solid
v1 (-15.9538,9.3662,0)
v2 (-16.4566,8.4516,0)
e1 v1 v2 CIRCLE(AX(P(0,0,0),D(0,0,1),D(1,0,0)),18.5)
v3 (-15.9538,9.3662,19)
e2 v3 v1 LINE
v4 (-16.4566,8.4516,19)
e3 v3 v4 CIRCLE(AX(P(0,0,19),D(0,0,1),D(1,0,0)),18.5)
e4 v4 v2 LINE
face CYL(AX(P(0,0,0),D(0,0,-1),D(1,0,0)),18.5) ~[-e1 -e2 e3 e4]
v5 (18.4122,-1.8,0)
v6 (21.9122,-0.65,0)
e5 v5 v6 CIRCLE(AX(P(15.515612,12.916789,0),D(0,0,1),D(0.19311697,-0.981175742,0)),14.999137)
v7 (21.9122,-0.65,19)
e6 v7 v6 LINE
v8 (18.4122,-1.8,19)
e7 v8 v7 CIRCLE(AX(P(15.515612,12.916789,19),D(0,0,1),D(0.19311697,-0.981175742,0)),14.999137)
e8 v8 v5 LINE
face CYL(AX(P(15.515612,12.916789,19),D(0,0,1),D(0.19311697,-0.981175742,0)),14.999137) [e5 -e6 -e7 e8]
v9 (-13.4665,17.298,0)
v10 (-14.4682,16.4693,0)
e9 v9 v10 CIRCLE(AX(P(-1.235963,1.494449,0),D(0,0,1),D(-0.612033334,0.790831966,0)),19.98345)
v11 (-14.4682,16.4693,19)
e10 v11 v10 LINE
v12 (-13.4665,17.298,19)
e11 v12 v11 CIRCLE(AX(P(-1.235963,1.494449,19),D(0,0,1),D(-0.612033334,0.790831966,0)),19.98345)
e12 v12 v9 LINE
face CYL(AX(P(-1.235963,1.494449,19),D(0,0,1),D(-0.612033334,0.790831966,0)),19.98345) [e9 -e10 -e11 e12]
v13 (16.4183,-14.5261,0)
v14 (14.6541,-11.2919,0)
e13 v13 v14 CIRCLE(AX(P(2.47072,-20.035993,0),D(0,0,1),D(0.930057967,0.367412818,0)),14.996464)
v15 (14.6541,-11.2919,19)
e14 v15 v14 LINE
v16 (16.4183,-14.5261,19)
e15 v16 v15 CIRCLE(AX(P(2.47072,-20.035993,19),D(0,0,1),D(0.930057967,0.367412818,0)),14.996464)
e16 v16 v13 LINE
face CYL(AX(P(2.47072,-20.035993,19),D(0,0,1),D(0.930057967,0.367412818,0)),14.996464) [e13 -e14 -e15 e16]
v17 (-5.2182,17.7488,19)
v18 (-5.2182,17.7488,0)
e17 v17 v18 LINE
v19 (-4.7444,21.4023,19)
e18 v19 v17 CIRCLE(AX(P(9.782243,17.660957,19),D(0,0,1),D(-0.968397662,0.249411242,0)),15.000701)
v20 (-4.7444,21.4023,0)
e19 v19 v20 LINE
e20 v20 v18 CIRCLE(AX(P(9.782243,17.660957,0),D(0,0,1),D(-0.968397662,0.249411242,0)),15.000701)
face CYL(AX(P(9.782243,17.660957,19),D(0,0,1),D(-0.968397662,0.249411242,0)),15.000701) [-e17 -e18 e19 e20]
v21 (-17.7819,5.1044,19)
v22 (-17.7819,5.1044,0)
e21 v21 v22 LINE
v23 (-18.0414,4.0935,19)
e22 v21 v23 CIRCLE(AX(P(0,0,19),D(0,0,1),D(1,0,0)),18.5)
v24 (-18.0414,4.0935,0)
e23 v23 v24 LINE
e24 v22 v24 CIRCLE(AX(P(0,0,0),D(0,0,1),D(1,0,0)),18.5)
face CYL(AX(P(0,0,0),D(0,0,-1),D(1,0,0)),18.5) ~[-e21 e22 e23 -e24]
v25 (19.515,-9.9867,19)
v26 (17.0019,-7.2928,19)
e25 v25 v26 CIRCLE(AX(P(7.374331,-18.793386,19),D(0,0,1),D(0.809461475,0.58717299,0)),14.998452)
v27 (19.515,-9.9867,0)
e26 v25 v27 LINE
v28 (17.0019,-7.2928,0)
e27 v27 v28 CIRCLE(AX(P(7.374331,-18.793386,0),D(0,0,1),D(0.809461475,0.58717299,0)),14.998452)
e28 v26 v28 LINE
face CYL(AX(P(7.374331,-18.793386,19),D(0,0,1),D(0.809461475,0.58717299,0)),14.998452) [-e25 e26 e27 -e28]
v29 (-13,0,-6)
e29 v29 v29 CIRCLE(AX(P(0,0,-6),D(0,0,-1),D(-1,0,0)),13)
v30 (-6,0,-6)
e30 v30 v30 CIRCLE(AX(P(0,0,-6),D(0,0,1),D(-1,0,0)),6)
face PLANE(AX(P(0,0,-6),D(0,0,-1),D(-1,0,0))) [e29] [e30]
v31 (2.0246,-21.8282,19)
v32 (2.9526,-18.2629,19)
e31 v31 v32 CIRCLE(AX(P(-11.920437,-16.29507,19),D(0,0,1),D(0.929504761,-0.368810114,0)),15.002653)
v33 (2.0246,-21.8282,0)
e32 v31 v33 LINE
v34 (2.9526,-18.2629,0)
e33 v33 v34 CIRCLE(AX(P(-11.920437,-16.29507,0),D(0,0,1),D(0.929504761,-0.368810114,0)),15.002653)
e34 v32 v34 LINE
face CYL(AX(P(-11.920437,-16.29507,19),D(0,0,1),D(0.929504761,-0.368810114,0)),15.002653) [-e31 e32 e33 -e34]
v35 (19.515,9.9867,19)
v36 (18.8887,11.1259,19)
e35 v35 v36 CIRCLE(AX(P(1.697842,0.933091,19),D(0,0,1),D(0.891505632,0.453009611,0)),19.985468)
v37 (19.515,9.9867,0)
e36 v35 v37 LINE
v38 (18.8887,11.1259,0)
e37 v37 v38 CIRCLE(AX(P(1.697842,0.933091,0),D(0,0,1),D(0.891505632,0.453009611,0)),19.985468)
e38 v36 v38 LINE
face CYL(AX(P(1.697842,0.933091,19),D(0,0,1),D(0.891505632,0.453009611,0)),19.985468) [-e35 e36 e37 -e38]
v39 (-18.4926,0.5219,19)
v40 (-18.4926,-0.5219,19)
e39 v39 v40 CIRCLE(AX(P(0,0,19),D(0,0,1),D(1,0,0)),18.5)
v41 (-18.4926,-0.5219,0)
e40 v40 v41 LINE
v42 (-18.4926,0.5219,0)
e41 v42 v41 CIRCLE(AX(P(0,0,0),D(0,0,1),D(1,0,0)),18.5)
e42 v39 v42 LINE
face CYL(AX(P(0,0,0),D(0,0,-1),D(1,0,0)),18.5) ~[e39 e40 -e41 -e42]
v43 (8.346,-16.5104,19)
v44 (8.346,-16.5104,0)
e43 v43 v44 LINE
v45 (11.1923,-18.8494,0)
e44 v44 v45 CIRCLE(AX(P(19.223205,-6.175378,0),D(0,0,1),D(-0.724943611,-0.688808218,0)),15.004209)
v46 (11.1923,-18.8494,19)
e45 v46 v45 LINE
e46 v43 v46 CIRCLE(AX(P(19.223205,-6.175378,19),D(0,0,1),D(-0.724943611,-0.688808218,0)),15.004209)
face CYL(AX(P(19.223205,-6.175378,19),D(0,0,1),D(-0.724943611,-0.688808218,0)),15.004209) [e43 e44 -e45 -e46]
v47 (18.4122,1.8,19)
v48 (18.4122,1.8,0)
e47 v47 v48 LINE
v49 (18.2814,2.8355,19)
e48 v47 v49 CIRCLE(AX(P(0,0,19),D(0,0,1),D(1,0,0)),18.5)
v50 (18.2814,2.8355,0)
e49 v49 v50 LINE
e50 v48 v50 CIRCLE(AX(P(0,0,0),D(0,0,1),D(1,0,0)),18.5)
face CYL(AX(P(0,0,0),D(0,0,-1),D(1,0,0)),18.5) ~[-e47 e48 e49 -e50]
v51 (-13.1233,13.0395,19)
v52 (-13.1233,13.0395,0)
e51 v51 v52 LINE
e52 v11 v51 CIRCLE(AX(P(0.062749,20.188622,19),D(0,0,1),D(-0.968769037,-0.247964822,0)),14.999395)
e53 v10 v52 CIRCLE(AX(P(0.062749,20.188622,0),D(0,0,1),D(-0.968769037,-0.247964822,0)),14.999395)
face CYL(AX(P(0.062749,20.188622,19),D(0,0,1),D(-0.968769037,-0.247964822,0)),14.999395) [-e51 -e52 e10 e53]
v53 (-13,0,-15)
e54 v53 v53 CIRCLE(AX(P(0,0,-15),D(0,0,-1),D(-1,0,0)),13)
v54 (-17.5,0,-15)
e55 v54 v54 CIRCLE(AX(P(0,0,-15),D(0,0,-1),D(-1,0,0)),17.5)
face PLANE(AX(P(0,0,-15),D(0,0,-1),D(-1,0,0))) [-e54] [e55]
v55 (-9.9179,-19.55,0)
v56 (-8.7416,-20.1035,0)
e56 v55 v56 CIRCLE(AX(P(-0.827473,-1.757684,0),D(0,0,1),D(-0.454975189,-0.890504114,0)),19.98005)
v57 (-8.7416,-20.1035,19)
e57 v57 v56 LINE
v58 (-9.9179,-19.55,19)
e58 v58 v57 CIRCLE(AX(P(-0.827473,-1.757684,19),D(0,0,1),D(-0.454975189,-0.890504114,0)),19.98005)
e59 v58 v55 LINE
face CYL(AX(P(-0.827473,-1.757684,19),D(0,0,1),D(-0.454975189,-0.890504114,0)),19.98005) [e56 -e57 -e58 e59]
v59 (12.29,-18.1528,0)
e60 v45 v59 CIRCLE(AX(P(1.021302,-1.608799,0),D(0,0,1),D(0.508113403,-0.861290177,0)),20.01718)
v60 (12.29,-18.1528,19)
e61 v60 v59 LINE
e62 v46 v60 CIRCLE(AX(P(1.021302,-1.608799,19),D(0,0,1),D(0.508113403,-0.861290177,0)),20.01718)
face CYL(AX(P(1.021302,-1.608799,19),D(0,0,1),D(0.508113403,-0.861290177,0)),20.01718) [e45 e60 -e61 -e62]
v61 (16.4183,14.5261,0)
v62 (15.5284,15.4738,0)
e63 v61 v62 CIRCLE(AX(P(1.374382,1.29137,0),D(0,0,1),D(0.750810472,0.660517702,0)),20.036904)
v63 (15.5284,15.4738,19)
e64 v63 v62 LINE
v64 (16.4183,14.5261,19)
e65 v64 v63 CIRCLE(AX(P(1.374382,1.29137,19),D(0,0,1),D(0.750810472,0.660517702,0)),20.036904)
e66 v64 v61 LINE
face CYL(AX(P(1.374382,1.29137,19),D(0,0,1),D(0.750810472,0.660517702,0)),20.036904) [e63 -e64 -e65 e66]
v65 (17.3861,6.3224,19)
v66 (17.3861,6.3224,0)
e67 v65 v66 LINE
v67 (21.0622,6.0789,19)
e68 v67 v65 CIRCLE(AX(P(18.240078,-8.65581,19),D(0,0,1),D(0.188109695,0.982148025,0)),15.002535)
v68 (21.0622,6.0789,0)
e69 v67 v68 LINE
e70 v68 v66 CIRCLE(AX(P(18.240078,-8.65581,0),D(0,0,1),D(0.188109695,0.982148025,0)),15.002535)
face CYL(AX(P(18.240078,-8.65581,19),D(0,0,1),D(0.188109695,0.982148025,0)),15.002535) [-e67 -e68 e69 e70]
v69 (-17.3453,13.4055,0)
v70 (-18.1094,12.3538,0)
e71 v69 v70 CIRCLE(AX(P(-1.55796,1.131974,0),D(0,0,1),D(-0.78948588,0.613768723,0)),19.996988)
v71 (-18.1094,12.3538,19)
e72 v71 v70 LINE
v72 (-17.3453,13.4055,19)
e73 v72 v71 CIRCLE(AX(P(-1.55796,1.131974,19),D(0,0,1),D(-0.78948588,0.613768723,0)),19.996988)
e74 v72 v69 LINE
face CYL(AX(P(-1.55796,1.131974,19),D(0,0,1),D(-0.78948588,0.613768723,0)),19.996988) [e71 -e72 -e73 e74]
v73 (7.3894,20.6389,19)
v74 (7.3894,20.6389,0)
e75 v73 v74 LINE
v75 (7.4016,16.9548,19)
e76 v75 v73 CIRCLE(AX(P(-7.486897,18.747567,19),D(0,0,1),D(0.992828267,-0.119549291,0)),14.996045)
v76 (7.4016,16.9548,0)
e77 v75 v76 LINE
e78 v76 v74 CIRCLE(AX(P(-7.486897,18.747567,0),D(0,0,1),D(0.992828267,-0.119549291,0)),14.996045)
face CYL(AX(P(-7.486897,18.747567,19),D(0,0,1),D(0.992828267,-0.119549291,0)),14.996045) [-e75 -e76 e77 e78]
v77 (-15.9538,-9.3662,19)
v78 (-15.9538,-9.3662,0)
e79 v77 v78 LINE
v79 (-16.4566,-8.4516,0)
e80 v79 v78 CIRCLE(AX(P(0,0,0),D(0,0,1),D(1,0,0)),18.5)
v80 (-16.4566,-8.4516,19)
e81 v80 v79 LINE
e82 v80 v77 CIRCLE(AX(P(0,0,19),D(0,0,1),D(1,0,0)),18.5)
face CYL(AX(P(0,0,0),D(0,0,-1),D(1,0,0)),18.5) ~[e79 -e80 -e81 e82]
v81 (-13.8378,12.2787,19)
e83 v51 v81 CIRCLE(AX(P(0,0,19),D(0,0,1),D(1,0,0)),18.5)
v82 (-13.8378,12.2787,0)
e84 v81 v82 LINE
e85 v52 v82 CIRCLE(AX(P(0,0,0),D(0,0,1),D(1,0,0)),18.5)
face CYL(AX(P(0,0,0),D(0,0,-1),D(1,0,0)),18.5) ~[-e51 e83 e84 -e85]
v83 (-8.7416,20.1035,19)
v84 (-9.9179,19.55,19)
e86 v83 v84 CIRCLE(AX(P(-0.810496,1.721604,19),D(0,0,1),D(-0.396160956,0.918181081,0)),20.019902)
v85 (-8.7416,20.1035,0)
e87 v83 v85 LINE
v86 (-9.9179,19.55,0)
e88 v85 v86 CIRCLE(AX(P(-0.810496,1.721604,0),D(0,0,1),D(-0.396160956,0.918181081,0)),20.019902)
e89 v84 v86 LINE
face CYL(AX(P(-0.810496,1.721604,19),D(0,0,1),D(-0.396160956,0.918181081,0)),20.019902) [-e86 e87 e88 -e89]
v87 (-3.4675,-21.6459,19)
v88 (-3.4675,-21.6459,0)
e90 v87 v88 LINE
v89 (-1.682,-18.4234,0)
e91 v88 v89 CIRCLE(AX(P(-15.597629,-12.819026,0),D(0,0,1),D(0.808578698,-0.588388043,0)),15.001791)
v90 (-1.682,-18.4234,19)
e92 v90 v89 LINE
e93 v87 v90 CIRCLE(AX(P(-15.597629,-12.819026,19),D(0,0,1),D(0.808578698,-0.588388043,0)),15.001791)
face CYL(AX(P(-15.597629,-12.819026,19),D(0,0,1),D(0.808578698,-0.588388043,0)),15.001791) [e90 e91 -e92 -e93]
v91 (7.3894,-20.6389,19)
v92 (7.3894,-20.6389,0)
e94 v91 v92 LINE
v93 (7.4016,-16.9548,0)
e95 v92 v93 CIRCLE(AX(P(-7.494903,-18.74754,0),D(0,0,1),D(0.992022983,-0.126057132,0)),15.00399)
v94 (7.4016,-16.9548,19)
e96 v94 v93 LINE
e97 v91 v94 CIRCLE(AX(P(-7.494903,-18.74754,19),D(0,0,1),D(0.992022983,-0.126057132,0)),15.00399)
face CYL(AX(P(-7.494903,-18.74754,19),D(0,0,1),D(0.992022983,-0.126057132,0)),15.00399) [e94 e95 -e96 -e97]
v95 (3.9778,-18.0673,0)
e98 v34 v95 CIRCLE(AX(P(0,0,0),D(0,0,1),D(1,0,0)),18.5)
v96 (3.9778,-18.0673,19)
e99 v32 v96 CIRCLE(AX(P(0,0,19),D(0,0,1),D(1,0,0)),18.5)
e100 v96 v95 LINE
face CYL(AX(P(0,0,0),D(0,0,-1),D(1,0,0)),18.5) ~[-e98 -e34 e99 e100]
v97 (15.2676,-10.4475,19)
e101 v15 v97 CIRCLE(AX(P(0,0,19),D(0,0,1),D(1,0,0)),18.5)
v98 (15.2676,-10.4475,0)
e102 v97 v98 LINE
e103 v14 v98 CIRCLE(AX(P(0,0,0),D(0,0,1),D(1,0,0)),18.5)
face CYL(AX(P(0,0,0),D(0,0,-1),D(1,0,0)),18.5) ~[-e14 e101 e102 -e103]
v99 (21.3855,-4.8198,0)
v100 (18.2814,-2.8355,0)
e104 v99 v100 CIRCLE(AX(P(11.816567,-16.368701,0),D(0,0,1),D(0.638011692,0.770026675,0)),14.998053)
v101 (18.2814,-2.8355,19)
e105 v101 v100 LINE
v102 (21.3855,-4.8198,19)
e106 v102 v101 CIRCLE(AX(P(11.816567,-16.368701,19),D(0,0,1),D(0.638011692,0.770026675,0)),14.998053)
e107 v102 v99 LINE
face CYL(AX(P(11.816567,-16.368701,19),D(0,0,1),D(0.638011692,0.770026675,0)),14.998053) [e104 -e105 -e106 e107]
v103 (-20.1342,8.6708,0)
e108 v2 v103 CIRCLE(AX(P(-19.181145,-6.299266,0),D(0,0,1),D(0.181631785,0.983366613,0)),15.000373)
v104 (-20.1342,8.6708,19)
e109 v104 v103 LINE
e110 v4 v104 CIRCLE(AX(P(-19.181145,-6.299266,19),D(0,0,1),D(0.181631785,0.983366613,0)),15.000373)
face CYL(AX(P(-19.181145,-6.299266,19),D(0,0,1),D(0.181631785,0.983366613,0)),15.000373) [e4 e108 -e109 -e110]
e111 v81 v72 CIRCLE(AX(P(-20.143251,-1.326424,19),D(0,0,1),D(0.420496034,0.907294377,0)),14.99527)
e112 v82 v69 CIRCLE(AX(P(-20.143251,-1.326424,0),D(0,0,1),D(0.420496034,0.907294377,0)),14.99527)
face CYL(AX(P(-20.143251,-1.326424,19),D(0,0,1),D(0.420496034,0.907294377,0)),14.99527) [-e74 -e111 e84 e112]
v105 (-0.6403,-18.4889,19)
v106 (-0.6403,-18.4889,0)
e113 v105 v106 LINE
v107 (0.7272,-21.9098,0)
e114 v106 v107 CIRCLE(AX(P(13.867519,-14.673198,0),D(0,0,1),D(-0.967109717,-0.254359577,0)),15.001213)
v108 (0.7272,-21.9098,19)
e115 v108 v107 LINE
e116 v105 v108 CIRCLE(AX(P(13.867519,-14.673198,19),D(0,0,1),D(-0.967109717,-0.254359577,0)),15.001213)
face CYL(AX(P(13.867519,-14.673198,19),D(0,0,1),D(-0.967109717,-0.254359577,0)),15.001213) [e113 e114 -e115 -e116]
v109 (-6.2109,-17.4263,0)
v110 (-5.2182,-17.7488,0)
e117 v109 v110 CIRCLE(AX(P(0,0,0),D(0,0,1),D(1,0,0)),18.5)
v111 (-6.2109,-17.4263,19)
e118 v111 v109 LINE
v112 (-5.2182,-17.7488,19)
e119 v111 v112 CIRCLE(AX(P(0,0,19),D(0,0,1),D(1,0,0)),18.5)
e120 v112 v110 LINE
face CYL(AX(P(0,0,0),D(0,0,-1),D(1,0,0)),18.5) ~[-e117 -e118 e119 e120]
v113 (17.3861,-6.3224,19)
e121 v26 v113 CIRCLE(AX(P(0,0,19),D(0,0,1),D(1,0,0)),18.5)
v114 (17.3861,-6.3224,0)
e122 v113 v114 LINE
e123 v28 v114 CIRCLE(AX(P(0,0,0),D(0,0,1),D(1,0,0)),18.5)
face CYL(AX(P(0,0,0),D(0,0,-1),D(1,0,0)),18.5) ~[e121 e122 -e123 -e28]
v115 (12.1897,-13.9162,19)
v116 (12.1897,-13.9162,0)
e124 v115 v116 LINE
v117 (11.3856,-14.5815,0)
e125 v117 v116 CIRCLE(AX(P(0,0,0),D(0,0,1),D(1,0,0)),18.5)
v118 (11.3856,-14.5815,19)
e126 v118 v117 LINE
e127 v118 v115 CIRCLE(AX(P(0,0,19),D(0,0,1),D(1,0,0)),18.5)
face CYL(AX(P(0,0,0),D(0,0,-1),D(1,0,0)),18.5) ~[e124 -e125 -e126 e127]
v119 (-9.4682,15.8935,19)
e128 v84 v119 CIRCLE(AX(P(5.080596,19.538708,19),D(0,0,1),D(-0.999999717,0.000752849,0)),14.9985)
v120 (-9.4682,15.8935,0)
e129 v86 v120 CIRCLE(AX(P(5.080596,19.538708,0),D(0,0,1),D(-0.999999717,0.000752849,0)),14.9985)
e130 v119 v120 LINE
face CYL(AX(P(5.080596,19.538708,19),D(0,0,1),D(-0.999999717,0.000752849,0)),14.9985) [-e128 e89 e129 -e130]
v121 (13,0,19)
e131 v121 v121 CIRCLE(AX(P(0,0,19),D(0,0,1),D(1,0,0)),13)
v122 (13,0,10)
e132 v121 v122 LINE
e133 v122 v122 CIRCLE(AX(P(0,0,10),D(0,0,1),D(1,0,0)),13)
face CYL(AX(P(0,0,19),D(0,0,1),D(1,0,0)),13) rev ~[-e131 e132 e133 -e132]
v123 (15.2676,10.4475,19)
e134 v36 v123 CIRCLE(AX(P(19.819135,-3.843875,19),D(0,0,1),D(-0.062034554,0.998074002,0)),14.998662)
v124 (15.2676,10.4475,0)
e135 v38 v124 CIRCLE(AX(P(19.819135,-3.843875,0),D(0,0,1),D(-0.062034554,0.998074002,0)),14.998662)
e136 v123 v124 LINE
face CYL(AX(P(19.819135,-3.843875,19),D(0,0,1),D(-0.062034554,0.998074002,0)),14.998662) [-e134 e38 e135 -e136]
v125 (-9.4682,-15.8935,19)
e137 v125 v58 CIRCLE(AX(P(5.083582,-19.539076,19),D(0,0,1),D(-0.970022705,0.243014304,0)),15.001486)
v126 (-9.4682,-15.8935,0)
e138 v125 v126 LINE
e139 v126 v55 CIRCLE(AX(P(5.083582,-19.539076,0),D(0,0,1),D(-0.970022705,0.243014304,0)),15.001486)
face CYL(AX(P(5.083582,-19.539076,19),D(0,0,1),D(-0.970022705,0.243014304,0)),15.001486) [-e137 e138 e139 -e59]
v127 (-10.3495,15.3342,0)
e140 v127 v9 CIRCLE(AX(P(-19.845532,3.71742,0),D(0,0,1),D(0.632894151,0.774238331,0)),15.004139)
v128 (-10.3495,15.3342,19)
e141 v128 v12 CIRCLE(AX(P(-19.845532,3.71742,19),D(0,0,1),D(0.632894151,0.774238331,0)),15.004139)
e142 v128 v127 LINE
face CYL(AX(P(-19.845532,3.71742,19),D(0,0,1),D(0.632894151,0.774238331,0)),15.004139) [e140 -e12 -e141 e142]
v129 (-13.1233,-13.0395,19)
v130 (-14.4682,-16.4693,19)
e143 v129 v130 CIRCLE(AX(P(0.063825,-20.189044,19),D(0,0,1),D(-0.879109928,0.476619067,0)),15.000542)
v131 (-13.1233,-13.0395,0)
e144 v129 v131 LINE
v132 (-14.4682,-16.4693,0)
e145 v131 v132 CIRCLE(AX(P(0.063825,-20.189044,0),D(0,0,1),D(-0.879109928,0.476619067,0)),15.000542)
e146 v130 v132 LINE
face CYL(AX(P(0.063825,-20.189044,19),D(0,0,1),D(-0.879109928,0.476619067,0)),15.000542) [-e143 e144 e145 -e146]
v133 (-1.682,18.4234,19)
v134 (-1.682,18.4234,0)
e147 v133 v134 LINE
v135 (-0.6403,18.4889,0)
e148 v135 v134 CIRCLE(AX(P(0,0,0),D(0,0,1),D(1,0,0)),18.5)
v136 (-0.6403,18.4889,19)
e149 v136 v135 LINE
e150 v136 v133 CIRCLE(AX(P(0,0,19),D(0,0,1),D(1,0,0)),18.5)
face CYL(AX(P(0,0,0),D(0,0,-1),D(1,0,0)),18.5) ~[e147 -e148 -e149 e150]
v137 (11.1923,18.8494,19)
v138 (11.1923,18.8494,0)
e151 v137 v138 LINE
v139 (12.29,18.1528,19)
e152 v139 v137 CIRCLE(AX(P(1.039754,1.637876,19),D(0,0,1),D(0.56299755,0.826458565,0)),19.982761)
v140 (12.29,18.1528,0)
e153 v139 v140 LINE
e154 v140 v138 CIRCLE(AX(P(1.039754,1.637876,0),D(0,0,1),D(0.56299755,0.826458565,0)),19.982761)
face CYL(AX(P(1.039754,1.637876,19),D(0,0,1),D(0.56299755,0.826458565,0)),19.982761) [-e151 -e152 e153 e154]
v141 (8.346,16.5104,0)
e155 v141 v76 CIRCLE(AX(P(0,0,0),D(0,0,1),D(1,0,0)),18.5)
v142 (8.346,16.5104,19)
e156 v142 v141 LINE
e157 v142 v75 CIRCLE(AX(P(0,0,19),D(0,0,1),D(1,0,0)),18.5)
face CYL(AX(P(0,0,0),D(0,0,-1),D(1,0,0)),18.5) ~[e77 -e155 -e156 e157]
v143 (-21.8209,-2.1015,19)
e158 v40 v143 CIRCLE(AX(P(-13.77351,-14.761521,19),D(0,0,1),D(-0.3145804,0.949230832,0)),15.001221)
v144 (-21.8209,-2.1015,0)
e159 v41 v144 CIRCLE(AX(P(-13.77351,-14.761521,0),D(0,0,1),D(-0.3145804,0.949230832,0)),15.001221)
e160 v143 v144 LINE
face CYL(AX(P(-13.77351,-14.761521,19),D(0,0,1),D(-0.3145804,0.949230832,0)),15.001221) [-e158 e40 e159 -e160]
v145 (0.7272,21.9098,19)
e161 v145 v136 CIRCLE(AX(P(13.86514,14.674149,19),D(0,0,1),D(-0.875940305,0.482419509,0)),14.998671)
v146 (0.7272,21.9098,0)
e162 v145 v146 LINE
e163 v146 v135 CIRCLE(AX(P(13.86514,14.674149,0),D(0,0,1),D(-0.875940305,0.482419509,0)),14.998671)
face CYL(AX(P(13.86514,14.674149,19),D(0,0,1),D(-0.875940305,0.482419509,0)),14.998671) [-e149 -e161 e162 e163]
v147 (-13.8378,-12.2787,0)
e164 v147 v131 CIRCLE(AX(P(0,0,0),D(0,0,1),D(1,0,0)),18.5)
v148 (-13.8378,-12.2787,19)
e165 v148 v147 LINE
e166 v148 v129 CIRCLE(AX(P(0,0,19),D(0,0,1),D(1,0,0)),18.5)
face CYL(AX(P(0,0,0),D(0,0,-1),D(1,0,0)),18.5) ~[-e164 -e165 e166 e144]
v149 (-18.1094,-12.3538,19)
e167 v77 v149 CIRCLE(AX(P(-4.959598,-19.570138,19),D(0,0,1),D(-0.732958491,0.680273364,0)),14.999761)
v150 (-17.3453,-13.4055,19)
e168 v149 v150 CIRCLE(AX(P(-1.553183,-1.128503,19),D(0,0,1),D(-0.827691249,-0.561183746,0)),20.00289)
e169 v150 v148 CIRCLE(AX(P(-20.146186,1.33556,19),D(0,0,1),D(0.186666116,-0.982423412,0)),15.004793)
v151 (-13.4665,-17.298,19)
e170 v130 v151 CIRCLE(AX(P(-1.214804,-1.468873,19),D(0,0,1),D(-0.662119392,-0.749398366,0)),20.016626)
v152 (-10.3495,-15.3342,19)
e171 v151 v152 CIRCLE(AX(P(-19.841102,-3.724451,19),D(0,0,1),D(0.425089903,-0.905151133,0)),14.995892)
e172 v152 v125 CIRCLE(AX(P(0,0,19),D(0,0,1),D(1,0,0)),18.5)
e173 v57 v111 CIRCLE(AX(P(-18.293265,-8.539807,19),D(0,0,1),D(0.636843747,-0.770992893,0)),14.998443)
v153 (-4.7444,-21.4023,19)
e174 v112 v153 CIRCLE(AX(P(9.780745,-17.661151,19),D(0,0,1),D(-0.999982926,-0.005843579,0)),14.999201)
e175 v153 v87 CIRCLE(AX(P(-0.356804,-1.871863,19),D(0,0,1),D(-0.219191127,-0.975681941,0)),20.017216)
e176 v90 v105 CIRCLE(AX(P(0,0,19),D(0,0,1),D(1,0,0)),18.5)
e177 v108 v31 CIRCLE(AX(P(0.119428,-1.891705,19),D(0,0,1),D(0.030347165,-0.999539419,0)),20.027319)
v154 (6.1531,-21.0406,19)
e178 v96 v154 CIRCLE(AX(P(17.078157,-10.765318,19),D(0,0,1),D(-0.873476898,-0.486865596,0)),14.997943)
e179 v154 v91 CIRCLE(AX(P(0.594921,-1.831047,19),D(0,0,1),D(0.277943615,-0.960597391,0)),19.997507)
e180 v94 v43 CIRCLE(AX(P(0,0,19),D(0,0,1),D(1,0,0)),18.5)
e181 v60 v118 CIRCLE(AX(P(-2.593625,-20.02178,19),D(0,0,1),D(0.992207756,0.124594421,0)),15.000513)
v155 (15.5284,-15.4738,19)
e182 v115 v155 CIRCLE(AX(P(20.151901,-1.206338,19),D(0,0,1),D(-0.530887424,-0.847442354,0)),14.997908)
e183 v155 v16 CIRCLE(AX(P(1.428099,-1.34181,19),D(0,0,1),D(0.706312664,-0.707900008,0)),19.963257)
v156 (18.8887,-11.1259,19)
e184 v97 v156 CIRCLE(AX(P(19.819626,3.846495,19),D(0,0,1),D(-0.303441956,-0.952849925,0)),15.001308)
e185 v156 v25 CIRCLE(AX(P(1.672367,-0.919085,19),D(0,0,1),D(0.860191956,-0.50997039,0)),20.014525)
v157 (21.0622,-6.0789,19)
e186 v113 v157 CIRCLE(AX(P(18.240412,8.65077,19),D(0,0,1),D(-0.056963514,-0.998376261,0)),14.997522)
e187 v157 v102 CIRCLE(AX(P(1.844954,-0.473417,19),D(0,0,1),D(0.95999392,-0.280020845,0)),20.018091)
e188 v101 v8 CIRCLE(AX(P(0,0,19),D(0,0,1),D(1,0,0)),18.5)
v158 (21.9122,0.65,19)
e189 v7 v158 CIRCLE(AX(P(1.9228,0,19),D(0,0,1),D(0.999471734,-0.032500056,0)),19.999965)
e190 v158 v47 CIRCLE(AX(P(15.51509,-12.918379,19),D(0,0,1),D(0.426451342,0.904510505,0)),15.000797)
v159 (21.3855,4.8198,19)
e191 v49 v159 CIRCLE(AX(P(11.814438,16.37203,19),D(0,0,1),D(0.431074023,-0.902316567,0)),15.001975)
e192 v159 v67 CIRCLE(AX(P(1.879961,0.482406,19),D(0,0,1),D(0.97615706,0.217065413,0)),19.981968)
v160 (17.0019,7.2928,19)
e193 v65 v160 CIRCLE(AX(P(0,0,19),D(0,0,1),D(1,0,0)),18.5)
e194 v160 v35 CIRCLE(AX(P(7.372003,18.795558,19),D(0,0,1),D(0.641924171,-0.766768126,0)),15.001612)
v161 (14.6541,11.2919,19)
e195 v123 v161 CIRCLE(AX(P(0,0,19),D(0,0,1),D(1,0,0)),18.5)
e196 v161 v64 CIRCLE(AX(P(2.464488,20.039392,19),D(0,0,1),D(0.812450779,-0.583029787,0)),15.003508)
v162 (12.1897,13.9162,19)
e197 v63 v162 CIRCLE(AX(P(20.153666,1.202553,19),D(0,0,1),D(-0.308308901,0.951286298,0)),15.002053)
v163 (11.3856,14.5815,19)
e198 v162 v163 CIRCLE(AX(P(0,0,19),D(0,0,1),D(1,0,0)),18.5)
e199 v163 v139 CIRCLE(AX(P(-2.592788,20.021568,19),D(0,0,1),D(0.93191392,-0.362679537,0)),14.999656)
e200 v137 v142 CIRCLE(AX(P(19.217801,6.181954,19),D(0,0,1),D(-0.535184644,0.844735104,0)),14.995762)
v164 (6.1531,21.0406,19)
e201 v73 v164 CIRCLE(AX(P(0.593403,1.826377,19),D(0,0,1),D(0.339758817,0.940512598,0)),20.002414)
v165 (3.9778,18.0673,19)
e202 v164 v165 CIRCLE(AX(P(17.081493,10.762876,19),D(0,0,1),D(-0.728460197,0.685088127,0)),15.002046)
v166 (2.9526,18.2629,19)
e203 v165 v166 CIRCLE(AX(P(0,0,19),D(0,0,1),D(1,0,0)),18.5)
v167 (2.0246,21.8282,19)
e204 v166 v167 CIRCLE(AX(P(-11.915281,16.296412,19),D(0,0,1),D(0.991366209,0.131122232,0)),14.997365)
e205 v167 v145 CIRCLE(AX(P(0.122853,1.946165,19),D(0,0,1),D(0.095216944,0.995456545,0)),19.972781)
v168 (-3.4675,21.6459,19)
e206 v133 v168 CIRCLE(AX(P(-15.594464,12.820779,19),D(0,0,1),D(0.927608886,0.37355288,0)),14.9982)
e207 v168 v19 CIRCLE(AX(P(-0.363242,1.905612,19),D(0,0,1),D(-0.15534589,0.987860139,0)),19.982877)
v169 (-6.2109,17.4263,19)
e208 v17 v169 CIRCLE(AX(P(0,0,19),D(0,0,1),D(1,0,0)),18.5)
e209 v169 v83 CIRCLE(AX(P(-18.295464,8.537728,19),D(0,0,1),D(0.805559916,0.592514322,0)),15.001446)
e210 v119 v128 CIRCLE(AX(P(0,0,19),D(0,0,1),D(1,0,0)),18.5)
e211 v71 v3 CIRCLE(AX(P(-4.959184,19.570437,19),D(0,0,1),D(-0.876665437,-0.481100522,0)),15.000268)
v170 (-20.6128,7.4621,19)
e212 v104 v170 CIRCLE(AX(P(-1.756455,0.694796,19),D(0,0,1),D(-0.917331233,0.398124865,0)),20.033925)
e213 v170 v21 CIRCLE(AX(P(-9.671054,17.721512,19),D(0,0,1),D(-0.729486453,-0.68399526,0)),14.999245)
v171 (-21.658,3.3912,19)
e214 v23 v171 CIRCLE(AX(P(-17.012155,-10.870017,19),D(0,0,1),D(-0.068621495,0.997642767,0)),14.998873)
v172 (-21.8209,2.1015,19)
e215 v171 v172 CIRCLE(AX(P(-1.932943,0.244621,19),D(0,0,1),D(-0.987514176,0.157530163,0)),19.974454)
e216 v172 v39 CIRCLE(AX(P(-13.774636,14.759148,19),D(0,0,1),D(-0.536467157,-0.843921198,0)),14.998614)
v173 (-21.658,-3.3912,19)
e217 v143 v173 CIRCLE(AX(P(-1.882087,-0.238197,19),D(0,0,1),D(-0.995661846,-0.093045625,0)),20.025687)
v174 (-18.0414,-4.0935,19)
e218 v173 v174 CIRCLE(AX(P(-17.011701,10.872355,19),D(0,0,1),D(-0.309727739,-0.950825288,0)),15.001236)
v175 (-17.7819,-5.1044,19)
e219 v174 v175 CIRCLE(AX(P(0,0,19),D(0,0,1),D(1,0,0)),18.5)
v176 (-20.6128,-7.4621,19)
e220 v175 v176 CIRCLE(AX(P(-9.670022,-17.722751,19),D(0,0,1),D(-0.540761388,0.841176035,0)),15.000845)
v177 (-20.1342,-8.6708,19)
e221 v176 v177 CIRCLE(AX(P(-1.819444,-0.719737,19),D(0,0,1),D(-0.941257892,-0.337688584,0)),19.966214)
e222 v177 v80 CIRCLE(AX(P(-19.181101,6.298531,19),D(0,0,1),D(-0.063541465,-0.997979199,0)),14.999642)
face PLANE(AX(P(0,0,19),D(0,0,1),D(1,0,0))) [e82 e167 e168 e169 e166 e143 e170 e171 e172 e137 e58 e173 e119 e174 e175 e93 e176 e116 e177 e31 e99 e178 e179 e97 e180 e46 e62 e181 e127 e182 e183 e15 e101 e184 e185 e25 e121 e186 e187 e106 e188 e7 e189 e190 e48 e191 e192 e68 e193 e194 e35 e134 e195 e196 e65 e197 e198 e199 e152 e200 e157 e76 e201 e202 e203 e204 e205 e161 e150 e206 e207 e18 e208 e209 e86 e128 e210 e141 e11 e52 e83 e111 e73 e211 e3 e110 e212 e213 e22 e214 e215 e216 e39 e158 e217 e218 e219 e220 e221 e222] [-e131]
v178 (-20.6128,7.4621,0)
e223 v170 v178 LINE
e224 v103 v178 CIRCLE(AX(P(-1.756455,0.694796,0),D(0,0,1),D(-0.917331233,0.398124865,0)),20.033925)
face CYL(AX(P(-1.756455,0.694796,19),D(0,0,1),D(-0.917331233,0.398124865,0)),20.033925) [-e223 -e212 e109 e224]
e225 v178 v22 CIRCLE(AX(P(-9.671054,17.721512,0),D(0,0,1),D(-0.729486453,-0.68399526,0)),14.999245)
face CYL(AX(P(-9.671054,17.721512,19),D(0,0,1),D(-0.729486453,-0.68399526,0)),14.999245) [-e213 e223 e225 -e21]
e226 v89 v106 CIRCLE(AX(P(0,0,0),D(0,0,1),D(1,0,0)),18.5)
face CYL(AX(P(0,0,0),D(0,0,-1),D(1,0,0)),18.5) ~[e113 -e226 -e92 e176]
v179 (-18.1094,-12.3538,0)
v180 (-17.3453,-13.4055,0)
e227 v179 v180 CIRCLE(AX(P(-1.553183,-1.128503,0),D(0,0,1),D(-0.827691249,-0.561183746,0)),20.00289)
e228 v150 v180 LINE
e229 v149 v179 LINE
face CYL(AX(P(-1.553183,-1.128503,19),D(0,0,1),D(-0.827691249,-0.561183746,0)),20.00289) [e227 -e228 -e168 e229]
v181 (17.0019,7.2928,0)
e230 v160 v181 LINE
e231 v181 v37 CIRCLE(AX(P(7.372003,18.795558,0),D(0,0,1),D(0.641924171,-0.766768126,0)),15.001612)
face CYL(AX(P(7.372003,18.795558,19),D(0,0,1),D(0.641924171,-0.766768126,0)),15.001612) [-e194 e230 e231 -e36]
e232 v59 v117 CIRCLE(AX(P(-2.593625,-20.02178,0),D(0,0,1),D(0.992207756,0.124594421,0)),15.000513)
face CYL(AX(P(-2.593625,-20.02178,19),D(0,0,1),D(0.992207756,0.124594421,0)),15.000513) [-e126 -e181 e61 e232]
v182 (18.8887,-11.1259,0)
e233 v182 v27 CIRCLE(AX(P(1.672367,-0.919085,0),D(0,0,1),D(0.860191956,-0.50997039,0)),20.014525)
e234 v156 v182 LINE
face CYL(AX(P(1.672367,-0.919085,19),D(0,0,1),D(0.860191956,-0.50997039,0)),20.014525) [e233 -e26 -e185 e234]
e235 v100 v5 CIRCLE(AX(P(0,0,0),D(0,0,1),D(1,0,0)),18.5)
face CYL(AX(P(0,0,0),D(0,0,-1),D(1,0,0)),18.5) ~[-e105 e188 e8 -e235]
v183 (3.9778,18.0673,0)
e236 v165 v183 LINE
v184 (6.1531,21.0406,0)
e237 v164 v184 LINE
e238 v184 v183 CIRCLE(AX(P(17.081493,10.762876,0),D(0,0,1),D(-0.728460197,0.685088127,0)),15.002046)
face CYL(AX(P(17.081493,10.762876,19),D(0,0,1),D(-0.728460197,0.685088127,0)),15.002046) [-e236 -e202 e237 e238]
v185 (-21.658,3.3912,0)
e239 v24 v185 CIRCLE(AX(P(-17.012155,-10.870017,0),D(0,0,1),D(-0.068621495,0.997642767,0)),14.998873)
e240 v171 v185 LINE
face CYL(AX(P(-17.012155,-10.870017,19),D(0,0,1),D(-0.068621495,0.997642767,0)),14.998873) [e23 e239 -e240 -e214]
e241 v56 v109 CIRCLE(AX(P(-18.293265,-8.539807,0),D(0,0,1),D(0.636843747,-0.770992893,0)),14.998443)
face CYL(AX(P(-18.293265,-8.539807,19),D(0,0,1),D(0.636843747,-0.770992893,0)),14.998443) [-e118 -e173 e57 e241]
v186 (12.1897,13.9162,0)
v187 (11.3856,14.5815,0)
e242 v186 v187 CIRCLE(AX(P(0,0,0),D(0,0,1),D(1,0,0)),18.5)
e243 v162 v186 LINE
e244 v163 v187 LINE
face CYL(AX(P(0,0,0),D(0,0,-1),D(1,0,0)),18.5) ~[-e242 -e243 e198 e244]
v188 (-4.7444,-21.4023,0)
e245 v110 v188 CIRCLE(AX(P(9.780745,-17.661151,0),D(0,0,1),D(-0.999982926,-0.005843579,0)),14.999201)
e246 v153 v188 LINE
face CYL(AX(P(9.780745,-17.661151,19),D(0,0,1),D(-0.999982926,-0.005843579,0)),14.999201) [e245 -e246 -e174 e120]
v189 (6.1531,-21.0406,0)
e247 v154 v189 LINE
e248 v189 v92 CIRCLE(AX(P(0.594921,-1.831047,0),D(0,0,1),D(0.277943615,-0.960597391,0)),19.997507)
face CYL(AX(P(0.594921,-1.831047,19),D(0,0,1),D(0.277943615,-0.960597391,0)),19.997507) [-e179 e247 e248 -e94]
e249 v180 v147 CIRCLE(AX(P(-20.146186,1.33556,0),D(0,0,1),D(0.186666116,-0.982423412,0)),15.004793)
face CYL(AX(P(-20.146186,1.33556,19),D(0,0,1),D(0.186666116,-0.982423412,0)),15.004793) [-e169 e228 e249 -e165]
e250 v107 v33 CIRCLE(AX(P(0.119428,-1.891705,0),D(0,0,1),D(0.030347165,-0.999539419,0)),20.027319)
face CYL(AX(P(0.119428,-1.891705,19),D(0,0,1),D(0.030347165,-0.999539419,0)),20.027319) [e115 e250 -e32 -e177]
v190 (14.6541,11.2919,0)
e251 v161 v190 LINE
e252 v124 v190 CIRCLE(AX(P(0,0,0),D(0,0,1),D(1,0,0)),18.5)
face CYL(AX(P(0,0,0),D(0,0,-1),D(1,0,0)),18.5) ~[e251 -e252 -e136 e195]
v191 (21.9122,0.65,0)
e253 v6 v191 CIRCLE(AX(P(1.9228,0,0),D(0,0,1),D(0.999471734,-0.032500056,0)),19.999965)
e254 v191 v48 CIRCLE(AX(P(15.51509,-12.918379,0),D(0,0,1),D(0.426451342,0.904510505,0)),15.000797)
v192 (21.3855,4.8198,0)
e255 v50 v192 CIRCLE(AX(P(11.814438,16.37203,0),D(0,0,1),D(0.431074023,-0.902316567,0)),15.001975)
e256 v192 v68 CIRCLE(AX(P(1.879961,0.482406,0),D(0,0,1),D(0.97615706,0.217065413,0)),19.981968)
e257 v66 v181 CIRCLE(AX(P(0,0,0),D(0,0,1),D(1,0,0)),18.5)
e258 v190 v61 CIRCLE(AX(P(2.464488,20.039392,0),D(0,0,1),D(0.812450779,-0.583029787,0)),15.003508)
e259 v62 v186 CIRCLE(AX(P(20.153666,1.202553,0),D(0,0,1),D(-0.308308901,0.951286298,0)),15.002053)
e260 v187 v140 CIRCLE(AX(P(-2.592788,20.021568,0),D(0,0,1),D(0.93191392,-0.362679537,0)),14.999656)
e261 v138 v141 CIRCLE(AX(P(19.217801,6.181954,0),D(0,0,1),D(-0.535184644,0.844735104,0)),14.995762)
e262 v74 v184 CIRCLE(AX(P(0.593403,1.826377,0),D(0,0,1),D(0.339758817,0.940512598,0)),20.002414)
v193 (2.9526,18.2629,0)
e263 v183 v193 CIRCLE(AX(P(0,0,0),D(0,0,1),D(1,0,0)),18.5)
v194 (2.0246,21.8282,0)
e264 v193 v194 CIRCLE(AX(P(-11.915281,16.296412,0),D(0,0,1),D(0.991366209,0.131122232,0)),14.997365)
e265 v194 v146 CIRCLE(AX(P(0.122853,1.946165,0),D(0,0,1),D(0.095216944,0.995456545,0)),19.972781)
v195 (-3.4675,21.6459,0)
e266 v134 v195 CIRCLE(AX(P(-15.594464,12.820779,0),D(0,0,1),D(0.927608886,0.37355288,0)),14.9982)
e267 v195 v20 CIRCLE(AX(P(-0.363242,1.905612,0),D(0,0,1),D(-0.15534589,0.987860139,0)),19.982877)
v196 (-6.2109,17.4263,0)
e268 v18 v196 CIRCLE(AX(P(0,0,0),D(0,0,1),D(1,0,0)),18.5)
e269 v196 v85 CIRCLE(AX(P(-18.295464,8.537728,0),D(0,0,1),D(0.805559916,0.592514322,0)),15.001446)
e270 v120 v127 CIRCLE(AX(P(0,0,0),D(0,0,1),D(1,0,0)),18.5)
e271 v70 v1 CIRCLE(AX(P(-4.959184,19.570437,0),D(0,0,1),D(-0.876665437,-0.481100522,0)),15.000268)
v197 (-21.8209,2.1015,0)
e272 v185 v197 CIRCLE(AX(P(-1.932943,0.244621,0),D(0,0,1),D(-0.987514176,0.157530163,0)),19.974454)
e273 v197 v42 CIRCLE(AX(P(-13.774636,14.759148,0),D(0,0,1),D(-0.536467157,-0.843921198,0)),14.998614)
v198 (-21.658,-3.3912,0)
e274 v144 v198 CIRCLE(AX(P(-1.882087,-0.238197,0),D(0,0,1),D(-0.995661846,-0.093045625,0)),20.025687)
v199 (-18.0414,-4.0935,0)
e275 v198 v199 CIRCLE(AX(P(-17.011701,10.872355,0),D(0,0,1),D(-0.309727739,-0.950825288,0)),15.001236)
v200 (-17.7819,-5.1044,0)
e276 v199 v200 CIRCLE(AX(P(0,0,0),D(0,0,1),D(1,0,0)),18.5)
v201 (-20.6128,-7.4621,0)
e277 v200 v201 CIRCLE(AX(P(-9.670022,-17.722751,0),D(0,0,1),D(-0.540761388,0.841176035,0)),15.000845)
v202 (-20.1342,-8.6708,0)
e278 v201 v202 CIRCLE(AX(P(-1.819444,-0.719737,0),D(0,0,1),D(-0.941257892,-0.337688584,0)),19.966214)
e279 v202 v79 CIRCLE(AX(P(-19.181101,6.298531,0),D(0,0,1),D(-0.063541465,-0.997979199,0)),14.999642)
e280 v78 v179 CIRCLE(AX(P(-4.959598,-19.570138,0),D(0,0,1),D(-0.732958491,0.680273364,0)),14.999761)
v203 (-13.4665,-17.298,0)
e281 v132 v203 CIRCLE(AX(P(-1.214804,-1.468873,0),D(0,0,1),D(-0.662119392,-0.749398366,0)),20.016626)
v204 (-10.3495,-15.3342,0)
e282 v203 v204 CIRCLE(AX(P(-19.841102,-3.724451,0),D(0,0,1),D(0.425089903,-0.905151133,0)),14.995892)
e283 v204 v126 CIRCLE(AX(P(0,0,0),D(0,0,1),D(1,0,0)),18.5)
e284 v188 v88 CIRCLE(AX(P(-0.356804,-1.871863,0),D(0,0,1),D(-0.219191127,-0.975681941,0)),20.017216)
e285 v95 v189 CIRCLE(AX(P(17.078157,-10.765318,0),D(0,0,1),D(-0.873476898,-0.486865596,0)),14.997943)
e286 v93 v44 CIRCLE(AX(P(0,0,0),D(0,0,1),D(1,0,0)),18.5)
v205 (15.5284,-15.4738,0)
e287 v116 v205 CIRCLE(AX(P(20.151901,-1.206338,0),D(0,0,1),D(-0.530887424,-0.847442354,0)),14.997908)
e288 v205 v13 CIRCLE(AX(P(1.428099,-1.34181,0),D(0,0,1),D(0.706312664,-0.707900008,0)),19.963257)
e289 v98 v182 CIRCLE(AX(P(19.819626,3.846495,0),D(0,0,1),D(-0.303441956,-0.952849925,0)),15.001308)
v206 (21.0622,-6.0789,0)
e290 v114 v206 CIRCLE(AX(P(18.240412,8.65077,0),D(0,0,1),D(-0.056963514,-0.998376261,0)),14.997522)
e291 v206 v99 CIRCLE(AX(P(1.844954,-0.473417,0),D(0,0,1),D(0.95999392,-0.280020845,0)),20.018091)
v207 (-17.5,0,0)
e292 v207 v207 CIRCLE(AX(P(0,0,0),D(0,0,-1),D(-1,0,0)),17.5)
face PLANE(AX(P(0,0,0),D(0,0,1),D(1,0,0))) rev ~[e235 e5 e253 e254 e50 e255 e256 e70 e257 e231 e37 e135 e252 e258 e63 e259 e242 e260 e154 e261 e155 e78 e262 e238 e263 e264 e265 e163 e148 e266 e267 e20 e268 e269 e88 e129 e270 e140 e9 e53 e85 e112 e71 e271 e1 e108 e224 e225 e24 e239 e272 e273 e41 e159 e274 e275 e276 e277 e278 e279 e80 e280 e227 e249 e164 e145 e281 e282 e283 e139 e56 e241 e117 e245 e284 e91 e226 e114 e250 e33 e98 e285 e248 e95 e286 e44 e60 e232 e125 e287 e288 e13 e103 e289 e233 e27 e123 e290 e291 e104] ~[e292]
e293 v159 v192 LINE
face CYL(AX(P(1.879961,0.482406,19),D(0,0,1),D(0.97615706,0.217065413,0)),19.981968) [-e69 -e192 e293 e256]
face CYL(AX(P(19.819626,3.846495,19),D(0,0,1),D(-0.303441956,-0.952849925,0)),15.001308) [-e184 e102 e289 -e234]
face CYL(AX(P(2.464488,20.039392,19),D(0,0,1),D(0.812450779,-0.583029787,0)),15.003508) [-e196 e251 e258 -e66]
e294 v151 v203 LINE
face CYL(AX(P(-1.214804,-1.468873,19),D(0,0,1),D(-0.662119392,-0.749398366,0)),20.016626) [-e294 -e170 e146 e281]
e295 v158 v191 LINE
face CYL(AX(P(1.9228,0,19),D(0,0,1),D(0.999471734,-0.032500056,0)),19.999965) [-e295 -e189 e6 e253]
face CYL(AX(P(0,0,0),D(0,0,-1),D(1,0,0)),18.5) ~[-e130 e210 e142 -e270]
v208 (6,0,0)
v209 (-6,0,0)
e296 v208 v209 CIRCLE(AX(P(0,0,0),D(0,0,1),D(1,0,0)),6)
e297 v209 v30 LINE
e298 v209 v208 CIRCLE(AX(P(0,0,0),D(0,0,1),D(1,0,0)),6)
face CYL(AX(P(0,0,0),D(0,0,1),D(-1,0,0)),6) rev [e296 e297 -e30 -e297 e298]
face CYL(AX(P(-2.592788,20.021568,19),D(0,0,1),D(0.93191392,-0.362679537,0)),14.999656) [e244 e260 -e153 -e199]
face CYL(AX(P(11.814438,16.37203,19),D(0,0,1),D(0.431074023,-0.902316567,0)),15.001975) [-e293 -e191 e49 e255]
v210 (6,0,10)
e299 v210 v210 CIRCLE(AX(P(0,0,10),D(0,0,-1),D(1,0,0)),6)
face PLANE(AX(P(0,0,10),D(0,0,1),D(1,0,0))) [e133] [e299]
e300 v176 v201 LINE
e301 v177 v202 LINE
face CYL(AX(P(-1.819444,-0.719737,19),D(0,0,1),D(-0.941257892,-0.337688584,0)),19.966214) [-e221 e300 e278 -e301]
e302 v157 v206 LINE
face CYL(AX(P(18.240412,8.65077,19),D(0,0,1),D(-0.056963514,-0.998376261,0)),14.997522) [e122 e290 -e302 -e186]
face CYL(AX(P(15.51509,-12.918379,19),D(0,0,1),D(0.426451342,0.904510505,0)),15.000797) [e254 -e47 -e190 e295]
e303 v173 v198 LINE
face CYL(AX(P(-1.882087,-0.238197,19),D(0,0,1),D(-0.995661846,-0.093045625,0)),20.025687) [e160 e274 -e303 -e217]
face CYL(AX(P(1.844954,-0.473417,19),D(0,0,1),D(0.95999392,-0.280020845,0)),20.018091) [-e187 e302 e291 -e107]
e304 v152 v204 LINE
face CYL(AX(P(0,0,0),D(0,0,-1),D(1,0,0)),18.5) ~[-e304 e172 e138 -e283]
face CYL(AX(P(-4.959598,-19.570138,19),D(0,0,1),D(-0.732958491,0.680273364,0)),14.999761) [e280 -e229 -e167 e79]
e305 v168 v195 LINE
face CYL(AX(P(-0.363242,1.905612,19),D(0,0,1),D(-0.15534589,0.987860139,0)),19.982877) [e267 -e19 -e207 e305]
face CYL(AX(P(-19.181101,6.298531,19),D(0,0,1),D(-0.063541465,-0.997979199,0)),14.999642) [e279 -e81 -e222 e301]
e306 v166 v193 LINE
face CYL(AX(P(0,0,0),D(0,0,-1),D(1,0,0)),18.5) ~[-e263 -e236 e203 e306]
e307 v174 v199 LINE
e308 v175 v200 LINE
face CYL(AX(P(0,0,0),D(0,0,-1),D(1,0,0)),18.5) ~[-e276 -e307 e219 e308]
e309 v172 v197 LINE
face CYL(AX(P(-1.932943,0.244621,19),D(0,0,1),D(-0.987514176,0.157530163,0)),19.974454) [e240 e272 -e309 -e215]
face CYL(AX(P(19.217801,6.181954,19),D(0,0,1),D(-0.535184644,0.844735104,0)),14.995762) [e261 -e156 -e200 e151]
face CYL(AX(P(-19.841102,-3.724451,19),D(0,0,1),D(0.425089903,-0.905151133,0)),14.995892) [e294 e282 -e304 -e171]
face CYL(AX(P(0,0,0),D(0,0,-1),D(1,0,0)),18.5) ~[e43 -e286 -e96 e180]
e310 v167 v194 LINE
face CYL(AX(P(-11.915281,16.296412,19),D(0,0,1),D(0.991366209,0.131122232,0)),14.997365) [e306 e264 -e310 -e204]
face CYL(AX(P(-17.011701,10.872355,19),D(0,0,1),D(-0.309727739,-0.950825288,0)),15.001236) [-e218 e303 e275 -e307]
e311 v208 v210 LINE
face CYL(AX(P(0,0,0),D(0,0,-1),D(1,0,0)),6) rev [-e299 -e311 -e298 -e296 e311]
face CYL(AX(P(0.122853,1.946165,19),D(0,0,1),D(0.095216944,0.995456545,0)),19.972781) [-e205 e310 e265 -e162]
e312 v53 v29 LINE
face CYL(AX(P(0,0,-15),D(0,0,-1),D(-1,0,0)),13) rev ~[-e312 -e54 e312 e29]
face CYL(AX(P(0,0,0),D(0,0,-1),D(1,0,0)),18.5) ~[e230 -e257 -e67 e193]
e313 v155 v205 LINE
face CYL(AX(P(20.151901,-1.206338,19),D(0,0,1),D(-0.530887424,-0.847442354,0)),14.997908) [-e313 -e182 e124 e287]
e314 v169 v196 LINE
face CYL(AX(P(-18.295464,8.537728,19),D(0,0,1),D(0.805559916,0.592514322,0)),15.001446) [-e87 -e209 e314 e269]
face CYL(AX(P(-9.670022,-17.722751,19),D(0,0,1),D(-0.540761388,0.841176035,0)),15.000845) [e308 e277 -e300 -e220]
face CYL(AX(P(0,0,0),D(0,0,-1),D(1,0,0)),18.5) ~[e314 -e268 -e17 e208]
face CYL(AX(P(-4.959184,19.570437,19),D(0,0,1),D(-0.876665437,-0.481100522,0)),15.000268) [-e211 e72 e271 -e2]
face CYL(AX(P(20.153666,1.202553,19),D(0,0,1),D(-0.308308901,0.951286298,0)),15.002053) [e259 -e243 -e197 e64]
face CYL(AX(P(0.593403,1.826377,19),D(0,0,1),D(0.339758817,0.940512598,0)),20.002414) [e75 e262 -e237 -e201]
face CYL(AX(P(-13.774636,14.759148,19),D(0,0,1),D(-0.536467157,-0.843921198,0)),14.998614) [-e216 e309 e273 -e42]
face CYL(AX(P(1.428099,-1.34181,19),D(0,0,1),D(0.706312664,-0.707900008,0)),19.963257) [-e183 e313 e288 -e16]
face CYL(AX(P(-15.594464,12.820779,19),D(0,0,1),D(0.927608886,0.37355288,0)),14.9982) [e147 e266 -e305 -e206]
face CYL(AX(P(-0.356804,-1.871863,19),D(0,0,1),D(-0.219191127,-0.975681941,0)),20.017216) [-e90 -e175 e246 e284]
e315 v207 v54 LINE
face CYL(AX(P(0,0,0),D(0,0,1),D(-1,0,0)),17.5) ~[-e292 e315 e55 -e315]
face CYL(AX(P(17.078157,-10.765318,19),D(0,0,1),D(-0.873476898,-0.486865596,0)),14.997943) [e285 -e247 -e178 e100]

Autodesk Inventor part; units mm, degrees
ref_plane "YZ Plane" through (0, 0, 0) normal (1, 0, 0) x (0, 1, 0)
ref_plane "XZ Plane" through (0, 0, 0) normal (0, 1, 0) x (-1, 0, 0)
ref_plane "XY Plane" through (0, 0, 0) normal (0, 0, 1) x (1, 0, 0)
sketch "Sketch1" plane through (0, 0, 0) normal (0, 0, 1) x (1, 0, 0)
  circle A0 centre (0, 0) radius 6
  circle A1 centre (0, 0) radius 18.5
  dimension "d0" = 12
  dimension "d1" = 37
extrude "Extrusion1" add sketch "Sketch1" along normal blind 19
sketch "Sketch2" plane through (0, 0, 19) normal (0, 0, 1) x (1, 0, 0)
  line L0 (0, 0) -> (50, 0) construction
  circle A0 centre (0, 0) radius 18.5 projected
  circle A1 centre (0, 0) radius 18.5 projected
  arc A2 (21.9122, 0.65) -> (18.4122, 1.8) centre (15.5154, -12.9176) ccw
  arc A3 (21.9122, -0.65) -> (21.9122, 0.65) centre (1.9228, 0) ccw
  arc A4 (18.4122, -1.8) -> (21.9122, -0.65) centre (15.5154, 12.9176) ccw
  arc A5 (18.4122, -1.8) -> (18.4122, 1.8) centre (0, 0) ccw
  arc A6 (21.0622, 6.0789) -> (17.3861, 6.3224) centre (18.2404, -8.6533) ccw
  arc A7 (21.3855, 4.8198) -> (21.0622, 6.0789) centre (1.8624, 0.4782) ccw
  arc A8 (18.2814, 2.8355) -> (21.3855, 4.8198) centre (11.8154, 16.3703) ccw
  arc A9 (18.2814, 2.8355) -> (17.3861, 6.3224) centre (0, 0) ccw
  arc A10 (18.8887, 11.1259) -> (15.2676, 10.4475) centre (19.8193, -3.8452) ccw
  arc A11 (19.515, 9.9867) -> (18.8887, 11.1259) centre (1.685, 0.9263) ccw
  arc A12 (17.0019, 7.2928) -> (19.515, 9.9867) centre (7.3731, 18.7944) ccw
  arc A13 (17.0019, 7.2928) -> (15.2676, 10.4475) centre (0, 0) ccw
  arc A14 (15.5284, 15.4738) -> (12.1897, 13.9162) centre (20.1529, 1.2045) ccw
  arc A15 (16.4183, 14.5261) -> (15.5284, 15.4738) centre (1.4017, 1.3162) ccw
  arc A16 (14.6541, 11.2919) -> (16.4183, 14.5261) centre (2.4675, 20.0375) ccw
  arc A17 (14.6541, 11.2919) -> (12.1897, 13.9162) centre (0, 0) ccw
  arc A18 (11.1923, 18.8494) -> (8.346, 16.5104) centre (19.2203, 6.1785) ccw
  arc A19 (12.29, 18.1528) -> (11.1923, 18.8494) centre (1.0303, 1.6235) ccw
  arc A20 (11.3856, 14.5815) -> (12.29, 18.1528) centre (-2.5932, 20.0217) ccw
  arc A21 (11.3856, 14.5815) -> (8.346, 16.5104) centre (0, 0) ccw
  arc A22 (6.1531, 21.0406) -> (3.9778, 18.0673) centre (17.0799, 10.7642) ccw
  arc A23 (7.3894, 20.6389) -> (6.1531, 21.0406) centre (0.5942, 1.8287) ccw
  arc A24 (7.4016, 16.9548) -> (7.3894, 20.6389) centre (-7.4909, 18.7478) ccw
  arc A25 (7.4016, 16.9548) -> (3.9778, 18.0673) centre (0, 0) ccw
  arc A26 (0.7272, 21.9098) -> (-0.6403, 18.4889) centre (13.8663, 14.6736) ccw
  arc A27 (2.0246, 21.8282) -> (0.7272, 21.9098) centre (0.1207, 1.919) ccw
  arc A28 (2.9526, 18.2629) -> (2.0246, 21.8282) centre (-11.9179, 16.2959) ccw
  arc A29 (2.9526, 18.2629) -> (-0.6403, 18.4889) centre (0, 0) ccw
  arc A30 (-4.7444, 21.4023) -> (-5.2182, 17.7488) centre (9.7815, 17.6611) ccw
  arc A31 (-3.4675, 21.6459) -> (-4.7444, 21.4023) centre (-0.3603, 1.8887) ccw
  arc A32 (-1.682, 18.4234) -> (-3.4675, 21.6459) centre (-15.5961, 12.82) ccw
  arc A33 (-1.682, 18.4234) -> (-5.2182, 17.7488) centre (0, 0) ccw
  arc A34 (-9.9179, 19.55) -> (-9.4682, 15.8935) centre (5.0821, 19.5388) ccw
  arc A35 (-8.7416, 20.1035) -> (-9.9179, 19.55) centre (-0.8187, 1.7398) ccw
  arc A36 (-6.2109, 17.4263) -> (-8.7416, 20.1035) centre (-18.2943, 8.5387) ccw
  arc A37 (-6.2109, 17.4263) -> (-9.4682, 15.8935) centre (0, 0) ccw
  arc A38 (-14.4682, 16.4693) -> (-13.1233, 13.0395) centre (0.0633, 20.1888) ccw
  arc A39 (-13.4665, 17.298) -> (-14.4682, 16.4693) centre (-1.2256, 1.4815) ccw
  arc A40 (-10.3495, 15.3342) -> (-13.4665, 17.298) centre (-19.8431, 3.7208) ccw
  arc A41 (-10.3495, 15.3342) -> (-13.1233, 13.0395) centre (0, 0) ccw
  arc A42 (-18.1094, 12.3538) -> (-15.9538, 9.3662) centre (-4.9594, 19.5703) ccw
  arc A43 (-17.3453, 13.4055) -> (-18.1094, 12.3538) centre (-1.5556, 1.1302) ccw
  arc A44 (-13.8378, 12.2787) -> (-17.3453, 13.4055) centre (-20.145, -1.3309) ccw
  arc A45 (-13.8378, 12.2787) -> (-15.9538, 9.3662) centre (0, 0) ccw
  arc A46 (-20.6128, 7.4621) -> (-17.7819, 5.1044) centre (-9.6705, 17.7221) ccw
  arc A47 (-20.1342, 8.6708) -> (-20.6128, 7.4621) centre (-1.7878, 0.7078) ccw
  arc A48 (-16.4566, 8.4516) -> (-20.1342, 8.6708) centre (-19.1811, -6.2989) ccw
  arc A49 (-16.4566, 8.4516) -> (-17.7819, 5.1044) centre (0, 0) ccw
  arc A50 (-21.8209, 2.1015) -> (-18.4926, 0.5219) centre (-13.774, 14.7603) ccw
  arc A51 (-21.658, 3.3912) -> (-21.8209, 2.1015) centre (-1.9076, 0.241) ccw
  arc A52 (-18.0414, 4.0935) -> (-21.658, 3.3912) centre (-17.012, -10.8712) ccw
  arc A53 (-18.0414, 4.0935) -> (-18.4926, 0.5219) centre (0, 0) ccw
  arc A54 (-21.658, -3.3912) -> (-18.0414, -4.0935) centre (-17.012, 10.8712) ccw
  arc A55 (-21.8209, -2.1015) -> (-21.658, -3.3912) centre (-1.9076, -0.241) ccw
  arc A56 (-18.4926, -0.5219) -> (-21.8209, -2.1015) centre (-13.774, -14.7603) ccw
  arc A57 (-18.4926, -0.5219) -> (-18.0414, -4.0935) centre (0, 0) ccw
  arc A58 (-20.1342, -8.6708) -> (-16.4566, -8.4516) centre (-19.1811, 6.2989) ccw
  arc A59 (-20.6128, -7.4621) -> (-20.1342, -8.6708) centre (-1.7878, -0.7078) ccw
  arc A60 (-17.7819, -5.1044) -> (-20.6128, -7.4621) centre (-9.6705, -17.7221) ccw
  arc A61 (-17.7819, -5.1044) -> (-16.4566, -8.4516) centre (0, 0) ccw
  arc A62 (-17.3453, -13.4055) -> (-13.8378, -12.2787) centre (-20.145, 1.3309) ccw
  arc A63 (-18.1094, -12.3538) -> (-17.3453, -13.4055) centre (-1.5556, -1.1302) ccw
  arc A64 (-15.9538, -9.3662) -> (-18.1094, -12.3538) centre (-4.9594, -19.5703) ccw
  arc A65 (-15.9538, -9.3662) -> (-13.8378, -12.2787) centre (0, 0) ccw
  arc A66 (-13.4665, -17.298) -> (-10.3495, -15.3342) centre (-19.8431, -3.7208) ccw
  arc A67 (-14.4682, -16.4693) -> (-13.4665, -17.298) centre (-1.2256, -1.4815) ccw
  arc A68 (-13.1233, -13.0395) -> (-14.4682, -16.4693) centre (0.0633, -20.1888) ccw
  arc A69 (-13.1233, -13.0395) -> (-10.3495, -15.3342) centre (0, 0) ccw
  arc A70 (-8.7416, -20.1035) -> (-6.2109, -17.4263) centre (-18.2943, -8.5387) ccw
  arc A71 (-9.9179, -19.55) -> (-8.7416, -20.1035) centre (-0.8187, -1.7398) ccw
  arc A72 (-9.4682, -15.8935) -> (-9.9179, -19.55) centre (5.0821, -19.5388) ccw
  arc A73 (-9.4682, -15.8935) -> (-6.2109, -17.4263) centre (0, 0) ccw
  arc A74 (-3.4675, -21.6459) -> (-1.682, -18.4234) centre (-15.5961, -12.82) ccw
  arc A75 (-4.7444, -21.4023) -> (-3.4675, -21.6459) centre (-0.3603, -1.8887) ccw
  arc A76 (-5.2182, -17.7488) -> (-4.7444, -21.4023) centre (9.7815, -17.6611) ccw
  arc A77 (-5.2182, -17.7488) -> (-1.682, -18.4234) centre (0, 0) ccw
  arc A78 (2.0246, -21.8282) -> (2.9526, -18.2629) centre (-11.9179, -16.2959) ccw
  arc A79 (0.7272, -21.9098) -> (2.0246, -21.8282) centre (0.1207, -1.919) ccw
  arc A80 (-0.6403, -18.4889) -> (0.7272, -21.9098) centre (13.8663, -14.6736) ccw
  arc A81 (-0.6403, -18.4889) -> (2.9526, -18.2629) centre (0, 0) ccw
  arc A82 (7.3894, -20.6389) -> (7.4016, -16.9548) centre (-7.4909, -18.7478) ccw
  arc A83 (6.1531, -21.0406) -> (7.3894, -20.6389) centre (0.5942, -1.8287) ccw
  arc A84 (3.9778, -18.0673) -> (6.1531, -21.0406) centre (17.0799, -10.7642) ccw
  arc A85 (3.9778, -18.0673) -> (7.4016, -16.9548) centre (0, 0) ccw
  arc A86 (12.29, -18.1528) -> (11.3856, -14.5815) centre (-2.5932, -20.0217) ccw
  arc A87 (11.1923, -18.8494) -> (12.29, -18.1528) centre (1.0303, -1.6235) ccw
  arc A88 (8.346, -16.5104) -> (11.1923, -18.8494) centre (19.2203, -6.1785) ccw
  arc A89 (8.346, -16.5104) -> (11.3856, -14.5815) centre (0, 0) ccw
  arc A90 (16.4183, -14.5261) -> (14.6541, -11.2919) centre (2.4675, -20.0375) ccw
  arc A91 (15.5284, -15.4738) -> (16.4183, -14.5261) centre (1.4017, -1.3162) ccw
  arc A92 (12.1897, -13.9162) -> (15.5284, -15.4738) centre (20.1529, -1.2045) ccw
  arc A93 (12.1897, -13.9162) -> (14.6541, -11.2919) centre (0, 0) ccw
  arc A94 (19.515, -9.9867) -> (17.0019, -7.2928) centre (7.3731, -18.7944) ccw
  arc A95 (18.8887, -11.1259) -> (19.515, -9.9867) centre (1.685, -0.9263) ccw
  arc A96 (15.2676, -10.4475) -> (18.8887, -11.1259) centre (19.8193, 3.8452) ccw
  arc A97 (15.2676, -10.4475) -> (17.0019, -7.2928) centre (0, 0) ccw
  arc A98 (21.3855, -4.8198) -> (18.2814, -2.8355) centre (11.8154, -16.3703) ccw
  arc A99 (21.0622, -6.0789) -> (21.3855, -4.8198) centre (1.8624, -0.4782) ccw
  arc A100 (17.3861, -6.3224) -> (21.0622, -6.0789) centre (18.2404, 8.6533) ccw
  arc A101 (17.3861, -6.3224) -> (18.2814, -2.8355) centre (0, 0) ccw
  point P0 (21.9228, 0)
  point P1 (21.234, 5.452)
  point P2 (19.2111, 10.5614)
  point P3 (15.981, 15.0072)
  point P4 (11.7468, 18.51)
  point P5 (6.7745, 20.8498)
  point P6 (1.3765, 21.8795)
  point P7 (-4.1079, 21.5345)
  point P8 (-9.3343, 19.8363)
  point P9 (-13.9741, 16.8918)
  point P10 (-17.7359, 12.8859)
  point P11 (-20.3833, 8.0703)
  point P12 (-21.7499, 2.7477)
  point P13 (-21.7499, -2.7477)
  point P14 (-20.3833, -8.0703)
  point P15 (-17.7359, -12.8859)
  point P16 (-13.9741, -16.8918)
  point P17 (-9.3343, -19.8363)
  point P18 (-4.1079, -21.5345)
  point P19 (1.3765, -21.8795)
  point P20 (6.7745, -20.8498)
  point P21 (11.7468, -18.51)
  point P22 (15.981, -15.0072)
  point P23 (19.2111, -10.5614)
  point P24 (21.234, -5.452)
  dimension "d4" = 50
  dimension "d5" = 15
  dimension "d6" = 3.5
  dimension "d7" = 1.8
  dimension "d8" = 20
  dimension "d10" = 15
  dimension "d12" = 1.8
  dimension "d15" = 360
  dimension "d34" = 1.3
extrude "Extrusion2" add sketch "Sketch2" against normal blind 19 contours A0 A2 A3 A4 | A0 A6 A7 A8 | A98 A99 A100 A0 | A0 A10 A11 A12 | A94 A95 A96 A0 | A0 A14 A15 A16 | A90 A91 A92 A0 | A0 A18 A19 A20 | A86 A87 A88 A0 | A0 A22 A23 A24 | A82 A83 A84 A0 | A0 A26 A27 A28 | A78 A79 A80 A0 | A0 A30 A31 A32 | A74 A75 A76 A0 | A0 A34 A35 A36 | A70 A71 A72 A0 | A0 A38 A39 A40 | A66 A67 A68 A0 | A0 A42 A43 A44 | A62 A63 A64 A0 | A0 A46 A47 A48 | A58 A59 A60 A0 | A0 A50 A51 A52 | A54 A55 A56 A0
sketch "Sketch7" plane through (0, 0, 19) normal (0, 0, 1) x (1, 0, 0)
  circle A0 centre (0, 0) radius 13
  dimension "d35" = 26
extrude "Extrusion6" cut sketch "Sketch7" against normal blind 9
sketch "Sketch9" plane through (0, 0, 0) normal (0, 0, -1) x (-1, 0, 0)
  circle A0 centre (0, 0) radius 17.5
  circle A1 centre (0, 0) radius 6 projected
  dimension "d39" = 35
extrude "Extrusion7" add sketch "Sketch9" along normal blind 15
sketch "Sketch10" plane through (0, 0, -15) normal (0, 0, -1) x (-1, 0, 0)
  circle A0 centre (0, 0) radius 13
  dimension "d42" = 26
extrude "Extrusion8" cut sketch "Sketch10" against normal blind 9
properties part number "BA011" material "ABS Plastic"
